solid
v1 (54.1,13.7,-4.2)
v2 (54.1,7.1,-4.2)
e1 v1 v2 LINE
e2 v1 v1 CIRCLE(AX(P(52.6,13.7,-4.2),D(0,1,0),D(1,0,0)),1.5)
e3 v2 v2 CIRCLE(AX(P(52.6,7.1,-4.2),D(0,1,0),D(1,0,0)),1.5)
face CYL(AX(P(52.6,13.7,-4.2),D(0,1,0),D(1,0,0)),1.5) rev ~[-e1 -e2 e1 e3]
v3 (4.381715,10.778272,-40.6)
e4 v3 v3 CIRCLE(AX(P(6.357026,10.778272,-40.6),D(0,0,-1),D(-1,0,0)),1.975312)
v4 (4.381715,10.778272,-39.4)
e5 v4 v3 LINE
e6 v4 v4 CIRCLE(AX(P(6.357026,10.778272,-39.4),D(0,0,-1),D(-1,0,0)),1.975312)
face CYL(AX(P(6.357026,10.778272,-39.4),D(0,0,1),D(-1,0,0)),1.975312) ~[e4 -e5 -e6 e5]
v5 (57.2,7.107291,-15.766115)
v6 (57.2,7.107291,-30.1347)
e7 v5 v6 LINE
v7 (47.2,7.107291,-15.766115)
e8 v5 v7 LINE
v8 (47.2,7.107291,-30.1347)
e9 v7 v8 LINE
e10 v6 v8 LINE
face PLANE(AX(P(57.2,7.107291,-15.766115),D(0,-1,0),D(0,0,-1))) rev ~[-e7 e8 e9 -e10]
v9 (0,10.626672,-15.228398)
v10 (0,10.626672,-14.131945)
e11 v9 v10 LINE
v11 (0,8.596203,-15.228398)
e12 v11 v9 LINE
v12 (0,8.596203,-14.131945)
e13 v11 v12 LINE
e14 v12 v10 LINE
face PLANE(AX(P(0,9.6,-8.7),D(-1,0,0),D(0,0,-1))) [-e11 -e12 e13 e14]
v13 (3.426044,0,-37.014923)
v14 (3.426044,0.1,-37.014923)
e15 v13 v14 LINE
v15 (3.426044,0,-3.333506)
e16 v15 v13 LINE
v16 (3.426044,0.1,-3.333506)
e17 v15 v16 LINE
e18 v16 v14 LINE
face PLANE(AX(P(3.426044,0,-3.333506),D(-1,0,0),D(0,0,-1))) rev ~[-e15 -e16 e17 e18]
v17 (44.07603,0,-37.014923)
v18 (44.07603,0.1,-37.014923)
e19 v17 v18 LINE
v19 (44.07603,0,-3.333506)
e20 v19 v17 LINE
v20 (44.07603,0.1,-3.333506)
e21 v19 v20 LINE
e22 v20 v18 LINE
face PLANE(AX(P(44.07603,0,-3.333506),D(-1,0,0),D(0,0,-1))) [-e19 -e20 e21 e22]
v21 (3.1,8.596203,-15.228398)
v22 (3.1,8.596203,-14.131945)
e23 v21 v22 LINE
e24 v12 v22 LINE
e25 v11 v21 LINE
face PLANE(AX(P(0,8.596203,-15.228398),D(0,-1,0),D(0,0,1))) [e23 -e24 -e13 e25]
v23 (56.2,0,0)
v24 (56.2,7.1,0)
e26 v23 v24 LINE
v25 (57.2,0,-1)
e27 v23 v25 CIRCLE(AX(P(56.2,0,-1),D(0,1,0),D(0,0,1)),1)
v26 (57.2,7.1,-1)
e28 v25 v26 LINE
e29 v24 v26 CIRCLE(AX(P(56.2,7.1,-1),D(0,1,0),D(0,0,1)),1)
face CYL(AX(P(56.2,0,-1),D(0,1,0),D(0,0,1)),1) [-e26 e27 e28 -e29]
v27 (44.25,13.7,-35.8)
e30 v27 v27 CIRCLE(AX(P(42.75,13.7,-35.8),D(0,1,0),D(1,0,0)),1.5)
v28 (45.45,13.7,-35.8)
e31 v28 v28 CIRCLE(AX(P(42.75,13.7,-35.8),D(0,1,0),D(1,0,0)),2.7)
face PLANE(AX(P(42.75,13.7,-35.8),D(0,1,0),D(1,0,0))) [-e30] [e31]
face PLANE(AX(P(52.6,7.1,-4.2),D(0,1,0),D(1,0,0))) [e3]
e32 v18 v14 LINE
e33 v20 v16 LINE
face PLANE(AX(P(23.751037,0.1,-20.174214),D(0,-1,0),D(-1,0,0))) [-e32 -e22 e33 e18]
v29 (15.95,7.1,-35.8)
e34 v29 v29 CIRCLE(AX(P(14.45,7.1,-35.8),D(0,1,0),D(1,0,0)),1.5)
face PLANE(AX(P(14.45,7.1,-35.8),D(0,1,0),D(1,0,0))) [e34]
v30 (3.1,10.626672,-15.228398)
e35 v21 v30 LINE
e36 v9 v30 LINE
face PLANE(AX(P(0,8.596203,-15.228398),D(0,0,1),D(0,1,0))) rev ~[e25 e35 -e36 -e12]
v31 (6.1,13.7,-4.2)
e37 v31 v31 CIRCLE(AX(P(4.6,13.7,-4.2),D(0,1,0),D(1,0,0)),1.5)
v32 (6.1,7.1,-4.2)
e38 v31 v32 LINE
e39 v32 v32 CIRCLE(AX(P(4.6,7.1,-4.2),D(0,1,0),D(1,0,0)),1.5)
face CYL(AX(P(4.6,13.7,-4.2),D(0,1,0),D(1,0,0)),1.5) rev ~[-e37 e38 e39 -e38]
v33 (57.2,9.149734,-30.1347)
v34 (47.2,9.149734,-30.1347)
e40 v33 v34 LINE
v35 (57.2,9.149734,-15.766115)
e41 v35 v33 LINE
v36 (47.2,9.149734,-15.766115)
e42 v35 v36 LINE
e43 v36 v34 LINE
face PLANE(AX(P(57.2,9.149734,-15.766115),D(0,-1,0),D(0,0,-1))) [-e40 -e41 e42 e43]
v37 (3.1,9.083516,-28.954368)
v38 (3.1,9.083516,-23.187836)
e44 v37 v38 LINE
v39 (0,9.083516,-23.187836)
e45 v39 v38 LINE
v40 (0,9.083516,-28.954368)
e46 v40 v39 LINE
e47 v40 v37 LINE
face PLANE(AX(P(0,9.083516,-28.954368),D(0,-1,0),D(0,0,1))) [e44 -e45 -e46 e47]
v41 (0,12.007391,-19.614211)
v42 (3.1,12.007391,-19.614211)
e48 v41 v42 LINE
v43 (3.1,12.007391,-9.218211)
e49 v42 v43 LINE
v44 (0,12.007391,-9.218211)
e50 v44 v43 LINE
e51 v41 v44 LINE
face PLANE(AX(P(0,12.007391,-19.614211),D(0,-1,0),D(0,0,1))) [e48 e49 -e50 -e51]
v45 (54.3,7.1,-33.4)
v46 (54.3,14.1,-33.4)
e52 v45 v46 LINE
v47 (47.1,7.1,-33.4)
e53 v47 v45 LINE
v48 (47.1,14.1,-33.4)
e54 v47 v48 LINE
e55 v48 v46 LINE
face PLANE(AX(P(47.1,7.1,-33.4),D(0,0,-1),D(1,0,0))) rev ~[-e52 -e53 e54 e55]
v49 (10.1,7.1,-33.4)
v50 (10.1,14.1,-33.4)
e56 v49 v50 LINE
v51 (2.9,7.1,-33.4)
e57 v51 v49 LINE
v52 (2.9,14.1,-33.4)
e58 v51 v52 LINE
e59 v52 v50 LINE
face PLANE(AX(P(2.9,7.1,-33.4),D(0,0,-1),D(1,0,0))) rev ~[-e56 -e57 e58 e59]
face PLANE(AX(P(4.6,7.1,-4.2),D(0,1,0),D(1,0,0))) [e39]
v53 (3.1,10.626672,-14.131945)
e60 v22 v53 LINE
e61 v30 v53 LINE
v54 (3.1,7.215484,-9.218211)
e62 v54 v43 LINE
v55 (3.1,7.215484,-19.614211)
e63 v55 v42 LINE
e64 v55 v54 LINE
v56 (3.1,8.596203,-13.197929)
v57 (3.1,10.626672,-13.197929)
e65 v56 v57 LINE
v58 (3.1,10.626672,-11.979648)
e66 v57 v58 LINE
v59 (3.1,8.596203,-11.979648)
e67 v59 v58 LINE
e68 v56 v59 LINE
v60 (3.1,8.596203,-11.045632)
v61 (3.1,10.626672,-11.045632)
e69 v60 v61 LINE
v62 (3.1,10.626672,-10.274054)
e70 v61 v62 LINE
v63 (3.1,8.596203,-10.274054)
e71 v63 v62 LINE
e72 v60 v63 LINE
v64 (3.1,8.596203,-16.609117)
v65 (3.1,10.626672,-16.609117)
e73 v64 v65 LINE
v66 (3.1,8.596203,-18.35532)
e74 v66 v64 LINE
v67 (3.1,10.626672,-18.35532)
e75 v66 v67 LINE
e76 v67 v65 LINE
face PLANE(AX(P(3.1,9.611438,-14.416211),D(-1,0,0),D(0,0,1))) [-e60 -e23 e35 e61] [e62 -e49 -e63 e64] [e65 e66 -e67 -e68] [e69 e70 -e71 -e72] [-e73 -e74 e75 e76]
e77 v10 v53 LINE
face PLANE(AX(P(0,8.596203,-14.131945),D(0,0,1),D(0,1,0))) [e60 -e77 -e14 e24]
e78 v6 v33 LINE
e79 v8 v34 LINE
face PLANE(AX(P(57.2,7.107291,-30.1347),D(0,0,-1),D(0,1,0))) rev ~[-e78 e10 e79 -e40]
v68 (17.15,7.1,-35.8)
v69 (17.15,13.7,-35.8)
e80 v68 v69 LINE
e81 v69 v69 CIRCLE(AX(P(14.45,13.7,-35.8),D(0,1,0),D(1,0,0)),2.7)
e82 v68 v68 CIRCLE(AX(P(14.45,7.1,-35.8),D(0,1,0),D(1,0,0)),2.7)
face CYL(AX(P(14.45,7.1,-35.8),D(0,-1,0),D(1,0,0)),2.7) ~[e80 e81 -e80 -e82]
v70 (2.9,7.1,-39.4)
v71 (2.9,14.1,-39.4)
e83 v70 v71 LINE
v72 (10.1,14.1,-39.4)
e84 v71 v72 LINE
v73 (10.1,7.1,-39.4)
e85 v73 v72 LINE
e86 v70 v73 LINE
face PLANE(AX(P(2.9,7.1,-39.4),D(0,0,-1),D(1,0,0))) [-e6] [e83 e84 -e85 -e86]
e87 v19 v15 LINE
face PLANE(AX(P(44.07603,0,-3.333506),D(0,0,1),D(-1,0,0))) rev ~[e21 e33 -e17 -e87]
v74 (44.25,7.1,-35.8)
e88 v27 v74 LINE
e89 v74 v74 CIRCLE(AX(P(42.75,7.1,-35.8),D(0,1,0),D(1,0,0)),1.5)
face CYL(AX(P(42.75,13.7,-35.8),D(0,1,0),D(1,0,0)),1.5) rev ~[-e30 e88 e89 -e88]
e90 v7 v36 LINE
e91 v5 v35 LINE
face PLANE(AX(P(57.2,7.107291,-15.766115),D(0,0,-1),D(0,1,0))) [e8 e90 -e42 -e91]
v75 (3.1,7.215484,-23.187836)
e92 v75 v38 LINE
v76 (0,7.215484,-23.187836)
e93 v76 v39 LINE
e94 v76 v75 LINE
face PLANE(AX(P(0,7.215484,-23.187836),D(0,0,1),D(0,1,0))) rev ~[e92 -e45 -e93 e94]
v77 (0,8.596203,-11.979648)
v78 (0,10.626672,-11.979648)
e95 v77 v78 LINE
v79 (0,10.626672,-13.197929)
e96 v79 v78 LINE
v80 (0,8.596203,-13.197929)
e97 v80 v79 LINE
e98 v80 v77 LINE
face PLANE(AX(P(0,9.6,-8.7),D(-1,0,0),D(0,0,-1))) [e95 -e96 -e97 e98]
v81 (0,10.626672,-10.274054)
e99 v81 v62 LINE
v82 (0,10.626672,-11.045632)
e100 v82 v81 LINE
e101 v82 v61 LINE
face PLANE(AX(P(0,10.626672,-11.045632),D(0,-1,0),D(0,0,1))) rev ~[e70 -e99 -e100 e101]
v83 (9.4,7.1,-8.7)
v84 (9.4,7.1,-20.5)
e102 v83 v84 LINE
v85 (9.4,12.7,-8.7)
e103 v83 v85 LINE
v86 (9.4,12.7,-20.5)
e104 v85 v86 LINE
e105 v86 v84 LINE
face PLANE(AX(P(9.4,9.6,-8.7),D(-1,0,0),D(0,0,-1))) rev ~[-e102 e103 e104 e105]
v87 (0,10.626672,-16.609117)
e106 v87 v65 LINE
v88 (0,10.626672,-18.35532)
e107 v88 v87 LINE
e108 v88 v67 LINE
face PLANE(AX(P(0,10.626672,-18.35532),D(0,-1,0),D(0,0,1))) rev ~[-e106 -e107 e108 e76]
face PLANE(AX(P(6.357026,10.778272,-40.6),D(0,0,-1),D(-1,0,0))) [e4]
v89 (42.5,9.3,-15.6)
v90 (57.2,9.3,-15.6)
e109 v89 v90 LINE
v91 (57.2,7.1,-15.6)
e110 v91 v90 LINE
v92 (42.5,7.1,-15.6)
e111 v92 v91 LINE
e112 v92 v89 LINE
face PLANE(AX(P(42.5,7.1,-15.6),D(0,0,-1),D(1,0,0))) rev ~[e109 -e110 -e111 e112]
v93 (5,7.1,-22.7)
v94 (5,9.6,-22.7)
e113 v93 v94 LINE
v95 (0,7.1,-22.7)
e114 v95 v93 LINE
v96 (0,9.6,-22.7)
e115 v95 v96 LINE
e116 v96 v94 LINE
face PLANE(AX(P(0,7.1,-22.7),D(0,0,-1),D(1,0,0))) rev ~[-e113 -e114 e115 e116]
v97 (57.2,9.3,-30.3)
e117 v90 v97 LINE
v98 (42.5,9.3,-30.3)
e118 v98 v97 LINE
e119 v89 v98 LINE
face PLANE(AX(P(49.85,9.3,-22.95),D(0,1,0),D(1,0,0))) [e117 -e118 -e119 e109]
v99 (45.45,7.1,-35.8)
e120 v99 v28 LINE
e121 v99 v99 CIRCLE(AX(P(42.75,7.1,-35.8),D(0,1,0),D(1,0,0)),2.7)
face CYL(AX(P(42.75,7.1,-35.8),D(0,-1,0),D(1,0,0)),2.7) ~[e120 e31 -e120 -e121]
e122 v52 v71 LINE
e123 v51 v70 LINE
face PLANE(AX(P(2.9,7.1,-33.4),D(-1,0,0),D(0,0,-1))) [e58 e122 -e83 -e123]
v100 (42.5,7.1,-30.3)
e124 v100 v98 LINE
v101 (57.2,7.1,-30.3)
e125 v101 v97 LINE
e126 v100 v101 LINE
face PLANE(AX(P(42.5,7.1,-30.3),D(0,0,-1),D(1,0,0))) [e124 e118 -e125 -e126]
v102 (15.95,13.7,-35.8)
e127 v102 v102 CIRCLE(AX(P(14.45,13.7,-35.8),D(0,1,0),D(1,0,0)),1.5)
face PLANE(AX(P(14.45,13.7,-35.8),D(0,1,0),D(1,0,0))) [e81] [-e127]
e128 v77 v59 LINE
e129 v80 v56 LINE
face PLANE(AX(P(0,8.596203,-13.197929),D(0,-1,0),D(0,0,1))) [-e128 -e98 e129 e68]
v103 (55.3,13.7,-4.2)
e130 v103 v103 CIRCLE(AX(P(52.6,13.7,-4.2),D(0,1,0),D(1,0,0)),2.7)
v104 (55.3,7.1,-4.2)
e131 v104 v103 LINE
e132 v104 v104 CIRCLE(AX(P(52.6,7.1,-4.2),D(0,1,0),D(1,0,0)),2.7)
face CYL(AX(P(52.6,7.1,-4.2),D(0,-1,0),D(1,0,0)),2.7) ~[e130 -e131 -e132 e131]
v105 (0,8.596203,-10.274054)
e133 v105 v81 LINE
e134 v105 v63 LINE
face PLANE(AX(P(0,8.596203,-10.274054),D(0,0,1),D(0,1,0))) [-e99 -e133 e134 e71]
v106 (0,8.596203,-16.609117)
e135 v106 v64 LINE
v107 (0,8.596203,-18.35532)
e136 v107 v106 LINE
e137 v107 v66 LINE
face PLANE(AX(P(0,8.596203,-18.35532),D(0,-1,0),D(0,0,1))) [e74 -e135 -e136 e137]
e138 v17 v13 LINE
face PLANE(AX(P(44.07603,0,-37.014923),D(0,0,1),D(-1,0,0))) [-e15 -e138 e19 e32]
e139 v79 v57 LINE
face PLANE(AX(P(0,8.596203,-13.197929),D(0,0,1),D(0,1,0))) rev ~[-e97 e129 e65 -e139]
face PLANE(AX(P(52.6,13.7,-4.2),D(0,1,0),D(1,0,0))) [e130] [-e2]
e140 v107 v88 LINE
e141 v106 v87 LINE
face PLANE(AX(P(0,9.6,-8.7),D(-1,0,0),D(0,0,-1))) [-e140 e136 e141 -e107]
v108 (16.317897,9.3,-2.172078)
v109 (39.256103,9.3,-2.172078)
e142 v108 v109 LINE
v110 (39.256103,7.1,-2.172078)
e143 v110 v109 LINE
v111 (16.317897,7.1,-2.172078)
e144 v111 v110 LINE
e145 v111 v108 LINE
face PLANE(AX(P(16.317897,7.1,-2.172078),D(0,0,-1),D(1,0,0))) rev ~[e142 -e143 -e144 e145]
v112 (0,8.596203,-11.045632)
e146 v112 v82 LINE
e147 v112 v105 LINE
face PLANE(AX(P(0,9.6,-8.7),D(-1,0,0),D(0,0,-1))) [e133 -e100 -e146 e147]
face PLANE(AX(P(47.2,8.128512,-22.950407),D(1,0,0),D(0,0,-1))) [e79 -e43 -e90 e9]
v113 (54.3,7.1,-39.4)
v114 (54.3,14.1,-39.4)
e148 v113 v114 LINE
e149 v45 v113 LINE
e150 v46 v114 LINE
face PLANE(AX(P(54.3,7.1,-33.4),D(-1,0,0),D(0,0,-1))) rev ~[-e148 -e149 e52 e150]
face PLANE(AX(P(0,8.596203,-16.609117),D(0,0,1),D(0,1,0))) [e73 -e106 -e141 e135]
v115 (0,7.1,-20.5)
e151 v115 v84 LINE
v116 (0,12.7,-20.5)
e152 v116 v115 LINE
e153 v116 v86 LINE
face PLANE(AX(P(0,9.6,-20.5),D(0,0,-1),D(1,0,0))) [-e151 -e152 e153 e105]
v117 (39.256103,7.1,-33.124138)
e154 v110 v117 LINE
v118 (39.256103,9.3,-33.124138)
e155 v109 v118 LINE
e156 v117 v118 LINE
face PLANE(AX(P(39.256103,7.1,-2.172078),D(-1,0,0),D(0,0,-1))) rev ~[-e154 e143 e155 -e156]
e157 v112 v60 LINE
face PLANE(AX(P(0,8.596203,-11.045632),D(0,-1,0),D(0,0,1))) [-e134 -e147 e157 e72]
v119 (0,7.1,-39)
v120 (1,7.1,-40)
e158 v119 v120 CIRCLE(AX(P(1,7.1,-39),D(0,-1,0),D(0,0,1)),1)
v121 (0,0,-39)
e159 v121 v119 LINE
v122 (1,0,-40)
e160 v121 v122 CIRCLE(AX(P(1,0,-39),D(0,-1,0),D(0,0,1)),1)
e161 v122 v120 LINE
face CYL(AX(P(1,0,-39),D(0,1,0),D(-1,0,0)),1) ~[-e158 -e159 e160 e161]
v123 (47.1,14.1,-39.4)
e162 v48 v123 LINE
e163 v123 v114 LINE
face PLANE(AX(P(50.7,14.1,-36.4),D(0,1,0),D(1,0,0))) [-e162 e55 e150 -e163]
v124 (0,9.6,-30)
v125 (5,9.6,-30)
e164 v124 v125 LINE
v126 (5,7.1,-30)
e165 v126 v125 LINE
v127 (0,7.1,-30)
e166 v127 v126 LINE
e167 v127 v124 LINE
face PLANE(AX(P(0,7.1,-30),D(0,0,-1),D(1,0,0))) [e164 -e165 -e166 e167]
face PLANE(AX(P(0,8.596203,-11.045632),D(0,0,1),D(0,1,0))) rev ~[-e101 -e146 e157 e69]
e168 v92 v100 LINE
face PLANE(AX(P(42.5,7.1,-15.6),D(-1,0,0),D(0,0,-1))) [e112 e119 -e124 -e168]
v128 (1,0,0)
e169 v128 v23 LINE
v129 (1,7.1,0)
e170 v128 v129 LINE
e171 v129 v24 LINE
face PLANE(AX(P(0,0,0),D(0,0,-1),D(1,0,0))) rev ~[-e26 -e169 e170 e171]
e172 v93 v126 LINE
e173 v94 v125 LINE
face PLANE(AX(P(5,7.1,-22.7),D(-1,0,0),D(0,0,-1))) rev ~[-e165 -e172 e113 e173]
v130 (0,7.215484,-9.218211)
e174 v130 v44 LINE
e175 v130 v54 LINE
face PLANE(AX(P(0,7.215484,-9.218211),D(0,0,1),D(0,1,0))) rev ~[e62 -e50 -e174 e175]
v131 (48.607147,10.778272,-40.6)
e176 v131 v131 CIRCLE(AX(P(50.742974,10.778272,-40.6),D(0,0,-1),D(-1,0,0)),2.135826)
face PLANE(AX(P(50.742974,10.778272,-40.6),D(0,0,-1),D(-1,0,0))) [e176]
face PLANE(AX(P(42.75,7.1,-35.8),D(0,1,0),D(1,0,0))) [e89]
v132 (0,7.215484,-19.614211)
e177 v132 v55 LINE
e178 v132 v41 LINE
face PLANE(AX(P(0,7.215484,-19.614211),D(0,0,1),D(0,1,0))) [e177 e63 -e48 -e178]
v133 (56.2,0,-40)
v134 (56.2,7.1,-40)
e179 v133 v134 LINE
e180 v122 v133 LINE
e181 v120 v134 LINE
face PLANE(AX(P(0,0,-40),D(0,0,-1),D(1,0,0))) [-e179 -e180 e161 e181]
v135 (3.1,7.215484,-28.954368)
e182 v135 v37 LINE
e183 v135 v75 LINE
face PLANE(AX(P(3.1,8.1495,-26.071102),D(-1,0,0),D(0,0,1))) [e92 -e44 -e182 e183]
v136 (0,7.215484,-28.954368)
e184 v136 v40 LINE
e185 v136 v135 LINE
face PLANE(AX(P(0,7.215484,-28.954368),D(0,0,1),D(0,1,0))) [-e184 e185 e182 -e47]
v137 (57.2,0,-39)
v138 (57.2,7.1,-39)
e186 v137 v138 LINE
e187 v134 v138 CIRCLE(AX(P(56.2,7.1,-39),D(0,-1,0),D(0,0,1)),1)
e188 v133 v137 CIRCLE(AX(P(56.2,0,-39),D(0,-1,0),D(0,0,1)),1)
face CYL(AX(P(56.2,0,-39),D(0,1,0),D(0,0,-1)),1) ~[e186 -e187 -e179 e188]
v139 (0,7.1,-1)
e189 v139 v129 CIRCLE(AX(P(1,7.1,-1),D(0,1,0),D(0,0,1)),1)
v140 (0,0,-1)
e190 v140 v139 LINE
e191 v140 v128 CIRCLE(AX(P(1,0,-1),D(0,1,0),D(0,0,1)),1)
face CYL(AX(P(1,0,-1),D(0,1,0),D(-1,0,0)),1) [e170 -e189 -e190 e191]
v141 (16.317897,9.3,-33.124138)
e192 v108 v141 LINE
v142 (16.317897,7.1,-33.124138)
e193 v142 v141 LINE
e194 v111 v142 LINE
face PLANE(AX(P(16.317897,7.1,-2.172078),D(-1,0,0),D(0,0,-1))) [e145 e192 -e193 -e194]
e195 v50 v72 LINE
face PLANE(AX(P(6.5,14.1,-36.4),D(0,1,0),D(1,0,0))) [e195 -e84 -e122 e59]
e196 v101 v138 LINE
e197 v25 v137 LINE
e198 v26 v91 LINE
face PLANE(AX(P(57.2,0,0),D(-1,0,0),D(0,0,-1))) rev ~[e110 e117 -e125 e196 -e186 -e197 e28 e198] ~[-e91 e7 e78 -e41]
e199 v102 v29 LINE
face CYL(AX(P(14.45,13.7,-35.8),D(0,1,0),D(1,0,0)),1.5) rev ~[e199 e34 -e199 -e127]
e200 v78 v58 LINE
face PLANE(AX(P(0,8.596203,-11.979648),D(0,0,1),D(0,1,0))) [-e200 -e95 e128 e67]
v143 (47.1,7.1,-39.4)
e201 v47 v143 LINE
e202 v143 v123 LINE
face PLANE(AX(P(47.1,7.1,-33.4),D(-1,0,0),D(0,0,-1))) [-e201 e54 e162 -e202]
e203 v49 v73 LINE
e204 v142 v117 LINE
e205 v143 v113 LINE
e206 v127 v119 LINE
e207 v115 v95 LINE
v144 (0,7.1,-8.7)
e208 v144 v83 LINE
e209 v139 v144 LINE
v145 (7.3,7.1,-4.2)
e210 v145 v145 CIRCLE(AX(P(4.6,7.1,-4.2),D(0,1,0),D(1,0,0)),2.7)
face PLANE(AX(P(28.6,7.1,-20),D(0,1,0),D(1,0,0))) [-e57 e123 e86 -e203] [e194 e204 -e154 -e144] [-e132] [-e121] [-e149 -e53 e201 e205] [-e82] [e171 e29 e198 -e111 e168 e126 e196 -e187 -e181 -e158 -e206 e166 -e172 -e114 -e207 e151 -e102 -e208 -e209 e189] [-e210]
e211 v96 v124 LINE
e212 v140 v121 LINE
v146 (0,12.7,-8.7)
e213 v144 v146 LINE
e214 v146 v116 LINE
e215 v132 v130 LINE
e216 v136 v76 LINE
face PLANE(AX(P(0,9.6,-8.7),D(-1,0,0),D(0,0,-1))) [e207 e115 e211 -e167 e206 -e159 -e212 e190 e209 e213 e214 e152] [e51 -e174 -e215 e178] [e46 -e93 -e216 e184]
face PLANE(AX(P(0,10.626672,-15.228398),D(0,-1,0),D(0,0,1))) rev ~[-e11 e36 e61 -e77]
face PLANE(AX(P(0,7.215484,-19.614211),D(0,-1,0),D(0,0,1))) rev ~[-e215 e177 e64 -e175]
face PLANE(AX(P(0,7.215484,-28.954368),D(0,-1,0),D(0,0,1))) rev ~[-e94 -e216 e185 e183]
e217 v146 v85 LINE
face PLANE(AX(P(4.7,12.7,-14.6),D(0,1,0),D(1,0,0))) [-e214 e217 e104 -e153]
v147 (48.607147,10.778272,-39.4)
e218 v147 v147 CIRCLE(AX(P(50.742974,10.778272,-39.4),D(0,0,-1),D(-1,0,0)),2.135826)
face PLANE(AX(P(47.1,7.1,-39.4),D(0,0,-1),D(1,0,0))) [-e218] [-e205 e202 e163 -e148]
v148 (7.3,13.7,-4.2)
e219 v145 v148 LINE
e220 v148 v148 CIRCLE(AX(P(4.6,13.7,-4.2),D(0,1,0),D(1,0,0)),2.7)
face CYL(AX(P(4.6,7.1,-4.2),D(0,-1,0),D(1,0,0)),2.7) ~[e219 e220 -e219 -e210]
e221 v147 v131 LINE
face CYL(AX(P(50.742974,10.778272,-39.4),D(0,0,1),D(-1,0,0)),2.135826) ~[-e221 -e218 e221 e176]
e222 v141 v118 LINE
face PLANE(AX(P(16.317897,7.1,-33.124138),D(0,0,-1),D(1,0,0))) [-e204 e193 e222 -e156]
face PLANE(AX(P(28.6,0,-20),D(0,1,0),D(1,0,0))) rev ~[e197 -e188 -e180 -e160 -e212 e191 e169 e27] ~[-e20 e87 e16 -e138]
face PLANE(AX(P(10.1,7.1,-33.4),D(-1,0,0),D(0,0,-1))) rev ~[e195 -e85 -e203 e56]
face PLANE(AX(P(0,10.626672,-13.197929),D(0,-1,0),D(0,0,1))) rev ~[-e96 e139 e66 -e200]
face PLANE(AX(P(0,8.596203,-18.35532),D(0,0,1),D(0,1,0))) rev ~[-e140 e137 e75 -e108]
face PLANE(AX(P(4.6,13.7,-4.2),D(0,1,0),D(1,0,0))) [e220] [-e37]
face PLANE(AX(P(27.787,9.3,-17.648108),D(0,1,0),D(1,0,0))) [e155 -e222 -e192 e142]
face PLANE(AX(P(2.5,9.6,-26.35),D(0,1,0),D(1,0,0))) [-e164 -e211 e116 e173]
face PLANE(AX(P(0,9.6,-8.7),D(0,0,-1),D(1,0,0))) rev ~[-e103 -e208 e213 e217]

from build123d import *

# Parameters (mm, degrees)
ESBO_O1_W                = 57.2
ESBO_O1_H                = 40
RESSALTO_EXTRUS_O1_DEPTH = 7.1
ESBO_O2_R                = 2.7
RESSALTO_EXTRUS_O2_DEPTH = 6.6
ESBO_O3_R                = 1.5
CORTE_EXTRUS_O1_DEPTH    = 6.6
ESBO_O4_W                = 40.649985971
ESBO_O4_H                = 33.681416947
CORTE_EXTRUS_O2_DEPTH    = 0.1
ESBO_O5_W                = 14.7
ESBO_O5_H                = 14.7
RESSALTO_EXTRUS_O3_DEPTH = 2.2
ESBO_O6_W                = 14.368584986
ESBO_O6_H                = 2.042443489
CORTE_EXTRUS_O3_DEPTH    = 10
ESBO_O7_W                = 9.4
ESBO_O7_H                = 11.8
ESBO_O7_W_2              = 5
ESBO_O7_H_2              = 7.3
RESSALTO_EXTRUS_O4_DEPTH = 2.5
ESBO_O8_W                = 9.4
ESBO_O8_H                = 11.8
RESSALTO_EXTRUS_O5_DEPTH = 3.1
ESBO_O9_W                = 5.766531476
ESBO_O9_H                = 1.868031324
ESBO_O9_W_2              = 10.396000408
ESBO_O9_H_2              = 4.791906438
ESBO_O9_W_3              = 1.746203194
ESBO_O9_H_3              = 2.030468829
ESBO_O9_W_4              = 1.096453168
ESBO_O9_W_5              = 1.218281297
ESBO_O9_W_6              = 0.771578155
CORTE_EXTRUS_O4_DEPTH    = 3.1
FILETE1_R                = 1
ESBO_O10_W               = 22.938206369
ESBO_O10_H               = 30.952060747
RESSALTO_EXTRUS_O6_DEPTH = 2.2
ESBO_O11_W               = 7.2
ESBO_O11_H               = 6
RESSALTO_EXTRUS_O7_DEPTH = 7
ESBO_O12_R               = 2.135826149
ESBO_O12_R_2             = 1.975311567
RESSALTO_EXTRUS_O8_DEPTH = 1.2


with BuildPart() as part:
    # Esboço1 → Ressalto-extrusão1 (new body)
    with BuildSketch(Plane(origin=(0, 0, 0), x_dir=(1, 0, 0), z_dir=(0, 1, 0))):
        with Locations((28.6, 20)):
            Rectangle(ESBO_O1_W, ESBO_O1_H)
    extrude(amount=RESSALTO_EXTRUS_O1_DEPTH)

    # Esboço2 → Ressalto-extrusão2 (add)
    with BuildSketch(Plane(origin=(0, 7.1, 0), x_dir=(1, 0, 0), z_dir=(0, 1, 0))):
        with Locations((4.6, 4.2)):
            Circle(ESBO_O2_R)
        with Locations((52.6, 4.2)):
            Circle(ESBO_O2_R)
        with Locations((42.75, 35.8)):
            Circle(ESBO_O2_R)
        with Locations((14.45, 35.8)):
            Circle(ESBO_O2_R)
    extrude(amount=RESSALTO_EXTRUS_O2_DEPTH)

    # Esboço3 → Corte-extrusão1 (cut)
    with BuildSketch(Plane(origin=(0, 13.7, 0), x_dir=(1, 0, 0), z_dir=(0, 1, 0))):
        with Locations((14.45, 35.8)):
            Circle(ESBO_O3_R)
        with Locations((42.75, 35.8)):
            Circle(ESBO_O3_R)
        with Locations((52.6, 4.2)):
            Circle(ESBO_O3_R)
        with Locations((4.6, 4.2)):
            Circle(ESBO_O3_R)
    extrude(amount=-CORTE_EXTRUS_O1_DEPTH, mode=Mode.SUBTRACT)

    # Esboço4 → Corte-extrusão2 (cut)
    with BuildSketch(Plane(origin=(0, 0, 0), x_dir=(-1, 0, 0), z_dir=(0, -1, 0))):
        with Locations((-23.751037388, 20.174214226)):
            Rectangle(ESBO_O4_W, ESBO_O4_H)
    extrude(amount=-CORTE_EXTRUS_O2_DEPTH, mode=Mode.SUBTRACT)

    # Esboço5 → Ressalto-extrusão3 (add)
    with BuildSketch(Plane(origin=(0, 7.1, 0), x_dir=(1, 0, 0), z_dir=(0, 1, 0))):
        with Locations((49.85, 22.95)):
            Rectangle(ESBO_O5_W, ESBO_O5_H)
    extrude(amount=RESSALTO_EXTRUS_O3_DEPTH)

    # Esboço6 → Corte-extrusão3 (cut)
    with BuildSketch(Plane(origin=(57.2, 0, 0), x_dir=(0, 0, -1), z_dir=(1, 0, 0))):
        with Locations((22.950407173, 8.128512291)):
            Rectangle(ESBO_O6_W, ESBO_O6_H)
    extrude(amount=-CORTE_EXTRUS_O3_DEPTH, mode=Mode.SUBTRACT)

    # Esboço7 → Ressalto-extrusão4 (add)
    with BuildSketch(Plane(origin=(0, 7.1, 0), x_dir=(1, 0, 0), z_dir=(0, 1, 0))):
        with Locations((4.7, 14.6)):
            Rectangle(ESBO_O7_W, ESBO_O7_H)
        with Locations((2.5, 26.35)):
            Rectangle(ESBO_O7_W_2, ESBO_O7_H_2)
    extrude(amount=RESSALTO_EXTRUS_O4_DEPTH)

    # Esboço8 → Ressalto-extrusão5 (add)
    with BuildSketch(Plane(origin=(0, 9.6, 0), x_dir=(1, 0, 0), z_dir=(0, 1, 0))):
        with Locations((4.7, 14.6)):
            Rectangle(ESBO_O8_W, ESBO_O8_H)
    extrude(amount=RESSALTO_EXTRUS_O5_DEPTH)

    # Esboço9 → Corte-extrusão4 (cut)
    with BuildSketch(Plane.ZY):
        with Locations((-26.071101801, 8.149500051)):
            Rectangle(ESBO_O9_W, ESBO_O9_H)
        with Locations((-14.416210718, 9.611437608)):
            Rectangle(ESBO_O9_W_2, ESBO_O9_H_2)
        with Locations((-17.482218651, 9.611437609)):
            Rectangle(ESBO_O9_W_3, ESBO_O9_H_3, mode=Mode.SUBTRACT)
        with Locations((-14.680171666, 9.611437609)):
            Rectangle(ESBO_O9_W_4, ESBO_O9_H_3, mode=Mode.SUBTRACT)
        with Locations((-12.588788772, 9.611437609)):
            Rectangle(ESBO_O9_W_5, ESBO_O9_H_3, mode=Mode.SUBTRACT)
        with Locations((-10.659843384, 9.611437609)):
            Rectangle(ESBO_O9_W_6, ESBO_O9_H_3, mode=Mode.SUBTRACT)
    extrude(amount=-CORTE_EXTRUS_O4_DEPTH, mode=Mode.SUBTRACT)

    # Filete1
    filete1_edges = [part.edges().sort_by_distance(p)[0] for p in [
        (0, 3.55, -40),
        (57.2, 3.55, -40),
        (57.2, 3.55, 0),
        (0, 3.55, 0),
    ]]
    fillet(filete1_edges, radius=FILETE1_R)

    # Esboço10 → Ressalto-extrusão6 (add)
    with BuildSketch(Plane(origin=(0, 7.1, 0), x_dir=(1, 0, 0), z_dir=(0, 1, 0))):
        with Locations((27.787000281, 17.648107954)):
            Rectangle(ESBO_O10_W, ESBO_O10_H)
    extrude(amount=RESSALTO_EXTRUS_O6_DEPTH)

    # Esboço11 → Ressalto-extrusão7 (add)
    with BuildSketch(Plane(origin=(0, 7.1, 0), x_dir=(1, 0, 0), z_dir=(0, 1, 0))):
        with Locations((6.5, 36.4)):
            Rectangle(ESBO_O11_W, ESBO_O11_H)
        with Locations((50.7, 36.4)):
            Rectangle(ESBO_O11_W, ESBO_O11_H)
    extrude(amount=RESSALTO_EXTRUS_O7_DEPTH)

    # Esboço12 → Ressalto-extrusão8 (add)
    with BuildSketch(Plane(origin=(0, 0, -39.4), x_dir=(-1, 0, 0), z_dir=(0, 0, -1))):
        with Locations((-50.742973547, 10.778272234)):
            Circle(ESBO_O12_R)
        with Locations((-6.357026453, 10.778272234)):
            Circle(ESBO_O12_R_2)
    extrude(amount=RESSALTO_EXTRUS_O8_DEPTH)


solid = part.part
